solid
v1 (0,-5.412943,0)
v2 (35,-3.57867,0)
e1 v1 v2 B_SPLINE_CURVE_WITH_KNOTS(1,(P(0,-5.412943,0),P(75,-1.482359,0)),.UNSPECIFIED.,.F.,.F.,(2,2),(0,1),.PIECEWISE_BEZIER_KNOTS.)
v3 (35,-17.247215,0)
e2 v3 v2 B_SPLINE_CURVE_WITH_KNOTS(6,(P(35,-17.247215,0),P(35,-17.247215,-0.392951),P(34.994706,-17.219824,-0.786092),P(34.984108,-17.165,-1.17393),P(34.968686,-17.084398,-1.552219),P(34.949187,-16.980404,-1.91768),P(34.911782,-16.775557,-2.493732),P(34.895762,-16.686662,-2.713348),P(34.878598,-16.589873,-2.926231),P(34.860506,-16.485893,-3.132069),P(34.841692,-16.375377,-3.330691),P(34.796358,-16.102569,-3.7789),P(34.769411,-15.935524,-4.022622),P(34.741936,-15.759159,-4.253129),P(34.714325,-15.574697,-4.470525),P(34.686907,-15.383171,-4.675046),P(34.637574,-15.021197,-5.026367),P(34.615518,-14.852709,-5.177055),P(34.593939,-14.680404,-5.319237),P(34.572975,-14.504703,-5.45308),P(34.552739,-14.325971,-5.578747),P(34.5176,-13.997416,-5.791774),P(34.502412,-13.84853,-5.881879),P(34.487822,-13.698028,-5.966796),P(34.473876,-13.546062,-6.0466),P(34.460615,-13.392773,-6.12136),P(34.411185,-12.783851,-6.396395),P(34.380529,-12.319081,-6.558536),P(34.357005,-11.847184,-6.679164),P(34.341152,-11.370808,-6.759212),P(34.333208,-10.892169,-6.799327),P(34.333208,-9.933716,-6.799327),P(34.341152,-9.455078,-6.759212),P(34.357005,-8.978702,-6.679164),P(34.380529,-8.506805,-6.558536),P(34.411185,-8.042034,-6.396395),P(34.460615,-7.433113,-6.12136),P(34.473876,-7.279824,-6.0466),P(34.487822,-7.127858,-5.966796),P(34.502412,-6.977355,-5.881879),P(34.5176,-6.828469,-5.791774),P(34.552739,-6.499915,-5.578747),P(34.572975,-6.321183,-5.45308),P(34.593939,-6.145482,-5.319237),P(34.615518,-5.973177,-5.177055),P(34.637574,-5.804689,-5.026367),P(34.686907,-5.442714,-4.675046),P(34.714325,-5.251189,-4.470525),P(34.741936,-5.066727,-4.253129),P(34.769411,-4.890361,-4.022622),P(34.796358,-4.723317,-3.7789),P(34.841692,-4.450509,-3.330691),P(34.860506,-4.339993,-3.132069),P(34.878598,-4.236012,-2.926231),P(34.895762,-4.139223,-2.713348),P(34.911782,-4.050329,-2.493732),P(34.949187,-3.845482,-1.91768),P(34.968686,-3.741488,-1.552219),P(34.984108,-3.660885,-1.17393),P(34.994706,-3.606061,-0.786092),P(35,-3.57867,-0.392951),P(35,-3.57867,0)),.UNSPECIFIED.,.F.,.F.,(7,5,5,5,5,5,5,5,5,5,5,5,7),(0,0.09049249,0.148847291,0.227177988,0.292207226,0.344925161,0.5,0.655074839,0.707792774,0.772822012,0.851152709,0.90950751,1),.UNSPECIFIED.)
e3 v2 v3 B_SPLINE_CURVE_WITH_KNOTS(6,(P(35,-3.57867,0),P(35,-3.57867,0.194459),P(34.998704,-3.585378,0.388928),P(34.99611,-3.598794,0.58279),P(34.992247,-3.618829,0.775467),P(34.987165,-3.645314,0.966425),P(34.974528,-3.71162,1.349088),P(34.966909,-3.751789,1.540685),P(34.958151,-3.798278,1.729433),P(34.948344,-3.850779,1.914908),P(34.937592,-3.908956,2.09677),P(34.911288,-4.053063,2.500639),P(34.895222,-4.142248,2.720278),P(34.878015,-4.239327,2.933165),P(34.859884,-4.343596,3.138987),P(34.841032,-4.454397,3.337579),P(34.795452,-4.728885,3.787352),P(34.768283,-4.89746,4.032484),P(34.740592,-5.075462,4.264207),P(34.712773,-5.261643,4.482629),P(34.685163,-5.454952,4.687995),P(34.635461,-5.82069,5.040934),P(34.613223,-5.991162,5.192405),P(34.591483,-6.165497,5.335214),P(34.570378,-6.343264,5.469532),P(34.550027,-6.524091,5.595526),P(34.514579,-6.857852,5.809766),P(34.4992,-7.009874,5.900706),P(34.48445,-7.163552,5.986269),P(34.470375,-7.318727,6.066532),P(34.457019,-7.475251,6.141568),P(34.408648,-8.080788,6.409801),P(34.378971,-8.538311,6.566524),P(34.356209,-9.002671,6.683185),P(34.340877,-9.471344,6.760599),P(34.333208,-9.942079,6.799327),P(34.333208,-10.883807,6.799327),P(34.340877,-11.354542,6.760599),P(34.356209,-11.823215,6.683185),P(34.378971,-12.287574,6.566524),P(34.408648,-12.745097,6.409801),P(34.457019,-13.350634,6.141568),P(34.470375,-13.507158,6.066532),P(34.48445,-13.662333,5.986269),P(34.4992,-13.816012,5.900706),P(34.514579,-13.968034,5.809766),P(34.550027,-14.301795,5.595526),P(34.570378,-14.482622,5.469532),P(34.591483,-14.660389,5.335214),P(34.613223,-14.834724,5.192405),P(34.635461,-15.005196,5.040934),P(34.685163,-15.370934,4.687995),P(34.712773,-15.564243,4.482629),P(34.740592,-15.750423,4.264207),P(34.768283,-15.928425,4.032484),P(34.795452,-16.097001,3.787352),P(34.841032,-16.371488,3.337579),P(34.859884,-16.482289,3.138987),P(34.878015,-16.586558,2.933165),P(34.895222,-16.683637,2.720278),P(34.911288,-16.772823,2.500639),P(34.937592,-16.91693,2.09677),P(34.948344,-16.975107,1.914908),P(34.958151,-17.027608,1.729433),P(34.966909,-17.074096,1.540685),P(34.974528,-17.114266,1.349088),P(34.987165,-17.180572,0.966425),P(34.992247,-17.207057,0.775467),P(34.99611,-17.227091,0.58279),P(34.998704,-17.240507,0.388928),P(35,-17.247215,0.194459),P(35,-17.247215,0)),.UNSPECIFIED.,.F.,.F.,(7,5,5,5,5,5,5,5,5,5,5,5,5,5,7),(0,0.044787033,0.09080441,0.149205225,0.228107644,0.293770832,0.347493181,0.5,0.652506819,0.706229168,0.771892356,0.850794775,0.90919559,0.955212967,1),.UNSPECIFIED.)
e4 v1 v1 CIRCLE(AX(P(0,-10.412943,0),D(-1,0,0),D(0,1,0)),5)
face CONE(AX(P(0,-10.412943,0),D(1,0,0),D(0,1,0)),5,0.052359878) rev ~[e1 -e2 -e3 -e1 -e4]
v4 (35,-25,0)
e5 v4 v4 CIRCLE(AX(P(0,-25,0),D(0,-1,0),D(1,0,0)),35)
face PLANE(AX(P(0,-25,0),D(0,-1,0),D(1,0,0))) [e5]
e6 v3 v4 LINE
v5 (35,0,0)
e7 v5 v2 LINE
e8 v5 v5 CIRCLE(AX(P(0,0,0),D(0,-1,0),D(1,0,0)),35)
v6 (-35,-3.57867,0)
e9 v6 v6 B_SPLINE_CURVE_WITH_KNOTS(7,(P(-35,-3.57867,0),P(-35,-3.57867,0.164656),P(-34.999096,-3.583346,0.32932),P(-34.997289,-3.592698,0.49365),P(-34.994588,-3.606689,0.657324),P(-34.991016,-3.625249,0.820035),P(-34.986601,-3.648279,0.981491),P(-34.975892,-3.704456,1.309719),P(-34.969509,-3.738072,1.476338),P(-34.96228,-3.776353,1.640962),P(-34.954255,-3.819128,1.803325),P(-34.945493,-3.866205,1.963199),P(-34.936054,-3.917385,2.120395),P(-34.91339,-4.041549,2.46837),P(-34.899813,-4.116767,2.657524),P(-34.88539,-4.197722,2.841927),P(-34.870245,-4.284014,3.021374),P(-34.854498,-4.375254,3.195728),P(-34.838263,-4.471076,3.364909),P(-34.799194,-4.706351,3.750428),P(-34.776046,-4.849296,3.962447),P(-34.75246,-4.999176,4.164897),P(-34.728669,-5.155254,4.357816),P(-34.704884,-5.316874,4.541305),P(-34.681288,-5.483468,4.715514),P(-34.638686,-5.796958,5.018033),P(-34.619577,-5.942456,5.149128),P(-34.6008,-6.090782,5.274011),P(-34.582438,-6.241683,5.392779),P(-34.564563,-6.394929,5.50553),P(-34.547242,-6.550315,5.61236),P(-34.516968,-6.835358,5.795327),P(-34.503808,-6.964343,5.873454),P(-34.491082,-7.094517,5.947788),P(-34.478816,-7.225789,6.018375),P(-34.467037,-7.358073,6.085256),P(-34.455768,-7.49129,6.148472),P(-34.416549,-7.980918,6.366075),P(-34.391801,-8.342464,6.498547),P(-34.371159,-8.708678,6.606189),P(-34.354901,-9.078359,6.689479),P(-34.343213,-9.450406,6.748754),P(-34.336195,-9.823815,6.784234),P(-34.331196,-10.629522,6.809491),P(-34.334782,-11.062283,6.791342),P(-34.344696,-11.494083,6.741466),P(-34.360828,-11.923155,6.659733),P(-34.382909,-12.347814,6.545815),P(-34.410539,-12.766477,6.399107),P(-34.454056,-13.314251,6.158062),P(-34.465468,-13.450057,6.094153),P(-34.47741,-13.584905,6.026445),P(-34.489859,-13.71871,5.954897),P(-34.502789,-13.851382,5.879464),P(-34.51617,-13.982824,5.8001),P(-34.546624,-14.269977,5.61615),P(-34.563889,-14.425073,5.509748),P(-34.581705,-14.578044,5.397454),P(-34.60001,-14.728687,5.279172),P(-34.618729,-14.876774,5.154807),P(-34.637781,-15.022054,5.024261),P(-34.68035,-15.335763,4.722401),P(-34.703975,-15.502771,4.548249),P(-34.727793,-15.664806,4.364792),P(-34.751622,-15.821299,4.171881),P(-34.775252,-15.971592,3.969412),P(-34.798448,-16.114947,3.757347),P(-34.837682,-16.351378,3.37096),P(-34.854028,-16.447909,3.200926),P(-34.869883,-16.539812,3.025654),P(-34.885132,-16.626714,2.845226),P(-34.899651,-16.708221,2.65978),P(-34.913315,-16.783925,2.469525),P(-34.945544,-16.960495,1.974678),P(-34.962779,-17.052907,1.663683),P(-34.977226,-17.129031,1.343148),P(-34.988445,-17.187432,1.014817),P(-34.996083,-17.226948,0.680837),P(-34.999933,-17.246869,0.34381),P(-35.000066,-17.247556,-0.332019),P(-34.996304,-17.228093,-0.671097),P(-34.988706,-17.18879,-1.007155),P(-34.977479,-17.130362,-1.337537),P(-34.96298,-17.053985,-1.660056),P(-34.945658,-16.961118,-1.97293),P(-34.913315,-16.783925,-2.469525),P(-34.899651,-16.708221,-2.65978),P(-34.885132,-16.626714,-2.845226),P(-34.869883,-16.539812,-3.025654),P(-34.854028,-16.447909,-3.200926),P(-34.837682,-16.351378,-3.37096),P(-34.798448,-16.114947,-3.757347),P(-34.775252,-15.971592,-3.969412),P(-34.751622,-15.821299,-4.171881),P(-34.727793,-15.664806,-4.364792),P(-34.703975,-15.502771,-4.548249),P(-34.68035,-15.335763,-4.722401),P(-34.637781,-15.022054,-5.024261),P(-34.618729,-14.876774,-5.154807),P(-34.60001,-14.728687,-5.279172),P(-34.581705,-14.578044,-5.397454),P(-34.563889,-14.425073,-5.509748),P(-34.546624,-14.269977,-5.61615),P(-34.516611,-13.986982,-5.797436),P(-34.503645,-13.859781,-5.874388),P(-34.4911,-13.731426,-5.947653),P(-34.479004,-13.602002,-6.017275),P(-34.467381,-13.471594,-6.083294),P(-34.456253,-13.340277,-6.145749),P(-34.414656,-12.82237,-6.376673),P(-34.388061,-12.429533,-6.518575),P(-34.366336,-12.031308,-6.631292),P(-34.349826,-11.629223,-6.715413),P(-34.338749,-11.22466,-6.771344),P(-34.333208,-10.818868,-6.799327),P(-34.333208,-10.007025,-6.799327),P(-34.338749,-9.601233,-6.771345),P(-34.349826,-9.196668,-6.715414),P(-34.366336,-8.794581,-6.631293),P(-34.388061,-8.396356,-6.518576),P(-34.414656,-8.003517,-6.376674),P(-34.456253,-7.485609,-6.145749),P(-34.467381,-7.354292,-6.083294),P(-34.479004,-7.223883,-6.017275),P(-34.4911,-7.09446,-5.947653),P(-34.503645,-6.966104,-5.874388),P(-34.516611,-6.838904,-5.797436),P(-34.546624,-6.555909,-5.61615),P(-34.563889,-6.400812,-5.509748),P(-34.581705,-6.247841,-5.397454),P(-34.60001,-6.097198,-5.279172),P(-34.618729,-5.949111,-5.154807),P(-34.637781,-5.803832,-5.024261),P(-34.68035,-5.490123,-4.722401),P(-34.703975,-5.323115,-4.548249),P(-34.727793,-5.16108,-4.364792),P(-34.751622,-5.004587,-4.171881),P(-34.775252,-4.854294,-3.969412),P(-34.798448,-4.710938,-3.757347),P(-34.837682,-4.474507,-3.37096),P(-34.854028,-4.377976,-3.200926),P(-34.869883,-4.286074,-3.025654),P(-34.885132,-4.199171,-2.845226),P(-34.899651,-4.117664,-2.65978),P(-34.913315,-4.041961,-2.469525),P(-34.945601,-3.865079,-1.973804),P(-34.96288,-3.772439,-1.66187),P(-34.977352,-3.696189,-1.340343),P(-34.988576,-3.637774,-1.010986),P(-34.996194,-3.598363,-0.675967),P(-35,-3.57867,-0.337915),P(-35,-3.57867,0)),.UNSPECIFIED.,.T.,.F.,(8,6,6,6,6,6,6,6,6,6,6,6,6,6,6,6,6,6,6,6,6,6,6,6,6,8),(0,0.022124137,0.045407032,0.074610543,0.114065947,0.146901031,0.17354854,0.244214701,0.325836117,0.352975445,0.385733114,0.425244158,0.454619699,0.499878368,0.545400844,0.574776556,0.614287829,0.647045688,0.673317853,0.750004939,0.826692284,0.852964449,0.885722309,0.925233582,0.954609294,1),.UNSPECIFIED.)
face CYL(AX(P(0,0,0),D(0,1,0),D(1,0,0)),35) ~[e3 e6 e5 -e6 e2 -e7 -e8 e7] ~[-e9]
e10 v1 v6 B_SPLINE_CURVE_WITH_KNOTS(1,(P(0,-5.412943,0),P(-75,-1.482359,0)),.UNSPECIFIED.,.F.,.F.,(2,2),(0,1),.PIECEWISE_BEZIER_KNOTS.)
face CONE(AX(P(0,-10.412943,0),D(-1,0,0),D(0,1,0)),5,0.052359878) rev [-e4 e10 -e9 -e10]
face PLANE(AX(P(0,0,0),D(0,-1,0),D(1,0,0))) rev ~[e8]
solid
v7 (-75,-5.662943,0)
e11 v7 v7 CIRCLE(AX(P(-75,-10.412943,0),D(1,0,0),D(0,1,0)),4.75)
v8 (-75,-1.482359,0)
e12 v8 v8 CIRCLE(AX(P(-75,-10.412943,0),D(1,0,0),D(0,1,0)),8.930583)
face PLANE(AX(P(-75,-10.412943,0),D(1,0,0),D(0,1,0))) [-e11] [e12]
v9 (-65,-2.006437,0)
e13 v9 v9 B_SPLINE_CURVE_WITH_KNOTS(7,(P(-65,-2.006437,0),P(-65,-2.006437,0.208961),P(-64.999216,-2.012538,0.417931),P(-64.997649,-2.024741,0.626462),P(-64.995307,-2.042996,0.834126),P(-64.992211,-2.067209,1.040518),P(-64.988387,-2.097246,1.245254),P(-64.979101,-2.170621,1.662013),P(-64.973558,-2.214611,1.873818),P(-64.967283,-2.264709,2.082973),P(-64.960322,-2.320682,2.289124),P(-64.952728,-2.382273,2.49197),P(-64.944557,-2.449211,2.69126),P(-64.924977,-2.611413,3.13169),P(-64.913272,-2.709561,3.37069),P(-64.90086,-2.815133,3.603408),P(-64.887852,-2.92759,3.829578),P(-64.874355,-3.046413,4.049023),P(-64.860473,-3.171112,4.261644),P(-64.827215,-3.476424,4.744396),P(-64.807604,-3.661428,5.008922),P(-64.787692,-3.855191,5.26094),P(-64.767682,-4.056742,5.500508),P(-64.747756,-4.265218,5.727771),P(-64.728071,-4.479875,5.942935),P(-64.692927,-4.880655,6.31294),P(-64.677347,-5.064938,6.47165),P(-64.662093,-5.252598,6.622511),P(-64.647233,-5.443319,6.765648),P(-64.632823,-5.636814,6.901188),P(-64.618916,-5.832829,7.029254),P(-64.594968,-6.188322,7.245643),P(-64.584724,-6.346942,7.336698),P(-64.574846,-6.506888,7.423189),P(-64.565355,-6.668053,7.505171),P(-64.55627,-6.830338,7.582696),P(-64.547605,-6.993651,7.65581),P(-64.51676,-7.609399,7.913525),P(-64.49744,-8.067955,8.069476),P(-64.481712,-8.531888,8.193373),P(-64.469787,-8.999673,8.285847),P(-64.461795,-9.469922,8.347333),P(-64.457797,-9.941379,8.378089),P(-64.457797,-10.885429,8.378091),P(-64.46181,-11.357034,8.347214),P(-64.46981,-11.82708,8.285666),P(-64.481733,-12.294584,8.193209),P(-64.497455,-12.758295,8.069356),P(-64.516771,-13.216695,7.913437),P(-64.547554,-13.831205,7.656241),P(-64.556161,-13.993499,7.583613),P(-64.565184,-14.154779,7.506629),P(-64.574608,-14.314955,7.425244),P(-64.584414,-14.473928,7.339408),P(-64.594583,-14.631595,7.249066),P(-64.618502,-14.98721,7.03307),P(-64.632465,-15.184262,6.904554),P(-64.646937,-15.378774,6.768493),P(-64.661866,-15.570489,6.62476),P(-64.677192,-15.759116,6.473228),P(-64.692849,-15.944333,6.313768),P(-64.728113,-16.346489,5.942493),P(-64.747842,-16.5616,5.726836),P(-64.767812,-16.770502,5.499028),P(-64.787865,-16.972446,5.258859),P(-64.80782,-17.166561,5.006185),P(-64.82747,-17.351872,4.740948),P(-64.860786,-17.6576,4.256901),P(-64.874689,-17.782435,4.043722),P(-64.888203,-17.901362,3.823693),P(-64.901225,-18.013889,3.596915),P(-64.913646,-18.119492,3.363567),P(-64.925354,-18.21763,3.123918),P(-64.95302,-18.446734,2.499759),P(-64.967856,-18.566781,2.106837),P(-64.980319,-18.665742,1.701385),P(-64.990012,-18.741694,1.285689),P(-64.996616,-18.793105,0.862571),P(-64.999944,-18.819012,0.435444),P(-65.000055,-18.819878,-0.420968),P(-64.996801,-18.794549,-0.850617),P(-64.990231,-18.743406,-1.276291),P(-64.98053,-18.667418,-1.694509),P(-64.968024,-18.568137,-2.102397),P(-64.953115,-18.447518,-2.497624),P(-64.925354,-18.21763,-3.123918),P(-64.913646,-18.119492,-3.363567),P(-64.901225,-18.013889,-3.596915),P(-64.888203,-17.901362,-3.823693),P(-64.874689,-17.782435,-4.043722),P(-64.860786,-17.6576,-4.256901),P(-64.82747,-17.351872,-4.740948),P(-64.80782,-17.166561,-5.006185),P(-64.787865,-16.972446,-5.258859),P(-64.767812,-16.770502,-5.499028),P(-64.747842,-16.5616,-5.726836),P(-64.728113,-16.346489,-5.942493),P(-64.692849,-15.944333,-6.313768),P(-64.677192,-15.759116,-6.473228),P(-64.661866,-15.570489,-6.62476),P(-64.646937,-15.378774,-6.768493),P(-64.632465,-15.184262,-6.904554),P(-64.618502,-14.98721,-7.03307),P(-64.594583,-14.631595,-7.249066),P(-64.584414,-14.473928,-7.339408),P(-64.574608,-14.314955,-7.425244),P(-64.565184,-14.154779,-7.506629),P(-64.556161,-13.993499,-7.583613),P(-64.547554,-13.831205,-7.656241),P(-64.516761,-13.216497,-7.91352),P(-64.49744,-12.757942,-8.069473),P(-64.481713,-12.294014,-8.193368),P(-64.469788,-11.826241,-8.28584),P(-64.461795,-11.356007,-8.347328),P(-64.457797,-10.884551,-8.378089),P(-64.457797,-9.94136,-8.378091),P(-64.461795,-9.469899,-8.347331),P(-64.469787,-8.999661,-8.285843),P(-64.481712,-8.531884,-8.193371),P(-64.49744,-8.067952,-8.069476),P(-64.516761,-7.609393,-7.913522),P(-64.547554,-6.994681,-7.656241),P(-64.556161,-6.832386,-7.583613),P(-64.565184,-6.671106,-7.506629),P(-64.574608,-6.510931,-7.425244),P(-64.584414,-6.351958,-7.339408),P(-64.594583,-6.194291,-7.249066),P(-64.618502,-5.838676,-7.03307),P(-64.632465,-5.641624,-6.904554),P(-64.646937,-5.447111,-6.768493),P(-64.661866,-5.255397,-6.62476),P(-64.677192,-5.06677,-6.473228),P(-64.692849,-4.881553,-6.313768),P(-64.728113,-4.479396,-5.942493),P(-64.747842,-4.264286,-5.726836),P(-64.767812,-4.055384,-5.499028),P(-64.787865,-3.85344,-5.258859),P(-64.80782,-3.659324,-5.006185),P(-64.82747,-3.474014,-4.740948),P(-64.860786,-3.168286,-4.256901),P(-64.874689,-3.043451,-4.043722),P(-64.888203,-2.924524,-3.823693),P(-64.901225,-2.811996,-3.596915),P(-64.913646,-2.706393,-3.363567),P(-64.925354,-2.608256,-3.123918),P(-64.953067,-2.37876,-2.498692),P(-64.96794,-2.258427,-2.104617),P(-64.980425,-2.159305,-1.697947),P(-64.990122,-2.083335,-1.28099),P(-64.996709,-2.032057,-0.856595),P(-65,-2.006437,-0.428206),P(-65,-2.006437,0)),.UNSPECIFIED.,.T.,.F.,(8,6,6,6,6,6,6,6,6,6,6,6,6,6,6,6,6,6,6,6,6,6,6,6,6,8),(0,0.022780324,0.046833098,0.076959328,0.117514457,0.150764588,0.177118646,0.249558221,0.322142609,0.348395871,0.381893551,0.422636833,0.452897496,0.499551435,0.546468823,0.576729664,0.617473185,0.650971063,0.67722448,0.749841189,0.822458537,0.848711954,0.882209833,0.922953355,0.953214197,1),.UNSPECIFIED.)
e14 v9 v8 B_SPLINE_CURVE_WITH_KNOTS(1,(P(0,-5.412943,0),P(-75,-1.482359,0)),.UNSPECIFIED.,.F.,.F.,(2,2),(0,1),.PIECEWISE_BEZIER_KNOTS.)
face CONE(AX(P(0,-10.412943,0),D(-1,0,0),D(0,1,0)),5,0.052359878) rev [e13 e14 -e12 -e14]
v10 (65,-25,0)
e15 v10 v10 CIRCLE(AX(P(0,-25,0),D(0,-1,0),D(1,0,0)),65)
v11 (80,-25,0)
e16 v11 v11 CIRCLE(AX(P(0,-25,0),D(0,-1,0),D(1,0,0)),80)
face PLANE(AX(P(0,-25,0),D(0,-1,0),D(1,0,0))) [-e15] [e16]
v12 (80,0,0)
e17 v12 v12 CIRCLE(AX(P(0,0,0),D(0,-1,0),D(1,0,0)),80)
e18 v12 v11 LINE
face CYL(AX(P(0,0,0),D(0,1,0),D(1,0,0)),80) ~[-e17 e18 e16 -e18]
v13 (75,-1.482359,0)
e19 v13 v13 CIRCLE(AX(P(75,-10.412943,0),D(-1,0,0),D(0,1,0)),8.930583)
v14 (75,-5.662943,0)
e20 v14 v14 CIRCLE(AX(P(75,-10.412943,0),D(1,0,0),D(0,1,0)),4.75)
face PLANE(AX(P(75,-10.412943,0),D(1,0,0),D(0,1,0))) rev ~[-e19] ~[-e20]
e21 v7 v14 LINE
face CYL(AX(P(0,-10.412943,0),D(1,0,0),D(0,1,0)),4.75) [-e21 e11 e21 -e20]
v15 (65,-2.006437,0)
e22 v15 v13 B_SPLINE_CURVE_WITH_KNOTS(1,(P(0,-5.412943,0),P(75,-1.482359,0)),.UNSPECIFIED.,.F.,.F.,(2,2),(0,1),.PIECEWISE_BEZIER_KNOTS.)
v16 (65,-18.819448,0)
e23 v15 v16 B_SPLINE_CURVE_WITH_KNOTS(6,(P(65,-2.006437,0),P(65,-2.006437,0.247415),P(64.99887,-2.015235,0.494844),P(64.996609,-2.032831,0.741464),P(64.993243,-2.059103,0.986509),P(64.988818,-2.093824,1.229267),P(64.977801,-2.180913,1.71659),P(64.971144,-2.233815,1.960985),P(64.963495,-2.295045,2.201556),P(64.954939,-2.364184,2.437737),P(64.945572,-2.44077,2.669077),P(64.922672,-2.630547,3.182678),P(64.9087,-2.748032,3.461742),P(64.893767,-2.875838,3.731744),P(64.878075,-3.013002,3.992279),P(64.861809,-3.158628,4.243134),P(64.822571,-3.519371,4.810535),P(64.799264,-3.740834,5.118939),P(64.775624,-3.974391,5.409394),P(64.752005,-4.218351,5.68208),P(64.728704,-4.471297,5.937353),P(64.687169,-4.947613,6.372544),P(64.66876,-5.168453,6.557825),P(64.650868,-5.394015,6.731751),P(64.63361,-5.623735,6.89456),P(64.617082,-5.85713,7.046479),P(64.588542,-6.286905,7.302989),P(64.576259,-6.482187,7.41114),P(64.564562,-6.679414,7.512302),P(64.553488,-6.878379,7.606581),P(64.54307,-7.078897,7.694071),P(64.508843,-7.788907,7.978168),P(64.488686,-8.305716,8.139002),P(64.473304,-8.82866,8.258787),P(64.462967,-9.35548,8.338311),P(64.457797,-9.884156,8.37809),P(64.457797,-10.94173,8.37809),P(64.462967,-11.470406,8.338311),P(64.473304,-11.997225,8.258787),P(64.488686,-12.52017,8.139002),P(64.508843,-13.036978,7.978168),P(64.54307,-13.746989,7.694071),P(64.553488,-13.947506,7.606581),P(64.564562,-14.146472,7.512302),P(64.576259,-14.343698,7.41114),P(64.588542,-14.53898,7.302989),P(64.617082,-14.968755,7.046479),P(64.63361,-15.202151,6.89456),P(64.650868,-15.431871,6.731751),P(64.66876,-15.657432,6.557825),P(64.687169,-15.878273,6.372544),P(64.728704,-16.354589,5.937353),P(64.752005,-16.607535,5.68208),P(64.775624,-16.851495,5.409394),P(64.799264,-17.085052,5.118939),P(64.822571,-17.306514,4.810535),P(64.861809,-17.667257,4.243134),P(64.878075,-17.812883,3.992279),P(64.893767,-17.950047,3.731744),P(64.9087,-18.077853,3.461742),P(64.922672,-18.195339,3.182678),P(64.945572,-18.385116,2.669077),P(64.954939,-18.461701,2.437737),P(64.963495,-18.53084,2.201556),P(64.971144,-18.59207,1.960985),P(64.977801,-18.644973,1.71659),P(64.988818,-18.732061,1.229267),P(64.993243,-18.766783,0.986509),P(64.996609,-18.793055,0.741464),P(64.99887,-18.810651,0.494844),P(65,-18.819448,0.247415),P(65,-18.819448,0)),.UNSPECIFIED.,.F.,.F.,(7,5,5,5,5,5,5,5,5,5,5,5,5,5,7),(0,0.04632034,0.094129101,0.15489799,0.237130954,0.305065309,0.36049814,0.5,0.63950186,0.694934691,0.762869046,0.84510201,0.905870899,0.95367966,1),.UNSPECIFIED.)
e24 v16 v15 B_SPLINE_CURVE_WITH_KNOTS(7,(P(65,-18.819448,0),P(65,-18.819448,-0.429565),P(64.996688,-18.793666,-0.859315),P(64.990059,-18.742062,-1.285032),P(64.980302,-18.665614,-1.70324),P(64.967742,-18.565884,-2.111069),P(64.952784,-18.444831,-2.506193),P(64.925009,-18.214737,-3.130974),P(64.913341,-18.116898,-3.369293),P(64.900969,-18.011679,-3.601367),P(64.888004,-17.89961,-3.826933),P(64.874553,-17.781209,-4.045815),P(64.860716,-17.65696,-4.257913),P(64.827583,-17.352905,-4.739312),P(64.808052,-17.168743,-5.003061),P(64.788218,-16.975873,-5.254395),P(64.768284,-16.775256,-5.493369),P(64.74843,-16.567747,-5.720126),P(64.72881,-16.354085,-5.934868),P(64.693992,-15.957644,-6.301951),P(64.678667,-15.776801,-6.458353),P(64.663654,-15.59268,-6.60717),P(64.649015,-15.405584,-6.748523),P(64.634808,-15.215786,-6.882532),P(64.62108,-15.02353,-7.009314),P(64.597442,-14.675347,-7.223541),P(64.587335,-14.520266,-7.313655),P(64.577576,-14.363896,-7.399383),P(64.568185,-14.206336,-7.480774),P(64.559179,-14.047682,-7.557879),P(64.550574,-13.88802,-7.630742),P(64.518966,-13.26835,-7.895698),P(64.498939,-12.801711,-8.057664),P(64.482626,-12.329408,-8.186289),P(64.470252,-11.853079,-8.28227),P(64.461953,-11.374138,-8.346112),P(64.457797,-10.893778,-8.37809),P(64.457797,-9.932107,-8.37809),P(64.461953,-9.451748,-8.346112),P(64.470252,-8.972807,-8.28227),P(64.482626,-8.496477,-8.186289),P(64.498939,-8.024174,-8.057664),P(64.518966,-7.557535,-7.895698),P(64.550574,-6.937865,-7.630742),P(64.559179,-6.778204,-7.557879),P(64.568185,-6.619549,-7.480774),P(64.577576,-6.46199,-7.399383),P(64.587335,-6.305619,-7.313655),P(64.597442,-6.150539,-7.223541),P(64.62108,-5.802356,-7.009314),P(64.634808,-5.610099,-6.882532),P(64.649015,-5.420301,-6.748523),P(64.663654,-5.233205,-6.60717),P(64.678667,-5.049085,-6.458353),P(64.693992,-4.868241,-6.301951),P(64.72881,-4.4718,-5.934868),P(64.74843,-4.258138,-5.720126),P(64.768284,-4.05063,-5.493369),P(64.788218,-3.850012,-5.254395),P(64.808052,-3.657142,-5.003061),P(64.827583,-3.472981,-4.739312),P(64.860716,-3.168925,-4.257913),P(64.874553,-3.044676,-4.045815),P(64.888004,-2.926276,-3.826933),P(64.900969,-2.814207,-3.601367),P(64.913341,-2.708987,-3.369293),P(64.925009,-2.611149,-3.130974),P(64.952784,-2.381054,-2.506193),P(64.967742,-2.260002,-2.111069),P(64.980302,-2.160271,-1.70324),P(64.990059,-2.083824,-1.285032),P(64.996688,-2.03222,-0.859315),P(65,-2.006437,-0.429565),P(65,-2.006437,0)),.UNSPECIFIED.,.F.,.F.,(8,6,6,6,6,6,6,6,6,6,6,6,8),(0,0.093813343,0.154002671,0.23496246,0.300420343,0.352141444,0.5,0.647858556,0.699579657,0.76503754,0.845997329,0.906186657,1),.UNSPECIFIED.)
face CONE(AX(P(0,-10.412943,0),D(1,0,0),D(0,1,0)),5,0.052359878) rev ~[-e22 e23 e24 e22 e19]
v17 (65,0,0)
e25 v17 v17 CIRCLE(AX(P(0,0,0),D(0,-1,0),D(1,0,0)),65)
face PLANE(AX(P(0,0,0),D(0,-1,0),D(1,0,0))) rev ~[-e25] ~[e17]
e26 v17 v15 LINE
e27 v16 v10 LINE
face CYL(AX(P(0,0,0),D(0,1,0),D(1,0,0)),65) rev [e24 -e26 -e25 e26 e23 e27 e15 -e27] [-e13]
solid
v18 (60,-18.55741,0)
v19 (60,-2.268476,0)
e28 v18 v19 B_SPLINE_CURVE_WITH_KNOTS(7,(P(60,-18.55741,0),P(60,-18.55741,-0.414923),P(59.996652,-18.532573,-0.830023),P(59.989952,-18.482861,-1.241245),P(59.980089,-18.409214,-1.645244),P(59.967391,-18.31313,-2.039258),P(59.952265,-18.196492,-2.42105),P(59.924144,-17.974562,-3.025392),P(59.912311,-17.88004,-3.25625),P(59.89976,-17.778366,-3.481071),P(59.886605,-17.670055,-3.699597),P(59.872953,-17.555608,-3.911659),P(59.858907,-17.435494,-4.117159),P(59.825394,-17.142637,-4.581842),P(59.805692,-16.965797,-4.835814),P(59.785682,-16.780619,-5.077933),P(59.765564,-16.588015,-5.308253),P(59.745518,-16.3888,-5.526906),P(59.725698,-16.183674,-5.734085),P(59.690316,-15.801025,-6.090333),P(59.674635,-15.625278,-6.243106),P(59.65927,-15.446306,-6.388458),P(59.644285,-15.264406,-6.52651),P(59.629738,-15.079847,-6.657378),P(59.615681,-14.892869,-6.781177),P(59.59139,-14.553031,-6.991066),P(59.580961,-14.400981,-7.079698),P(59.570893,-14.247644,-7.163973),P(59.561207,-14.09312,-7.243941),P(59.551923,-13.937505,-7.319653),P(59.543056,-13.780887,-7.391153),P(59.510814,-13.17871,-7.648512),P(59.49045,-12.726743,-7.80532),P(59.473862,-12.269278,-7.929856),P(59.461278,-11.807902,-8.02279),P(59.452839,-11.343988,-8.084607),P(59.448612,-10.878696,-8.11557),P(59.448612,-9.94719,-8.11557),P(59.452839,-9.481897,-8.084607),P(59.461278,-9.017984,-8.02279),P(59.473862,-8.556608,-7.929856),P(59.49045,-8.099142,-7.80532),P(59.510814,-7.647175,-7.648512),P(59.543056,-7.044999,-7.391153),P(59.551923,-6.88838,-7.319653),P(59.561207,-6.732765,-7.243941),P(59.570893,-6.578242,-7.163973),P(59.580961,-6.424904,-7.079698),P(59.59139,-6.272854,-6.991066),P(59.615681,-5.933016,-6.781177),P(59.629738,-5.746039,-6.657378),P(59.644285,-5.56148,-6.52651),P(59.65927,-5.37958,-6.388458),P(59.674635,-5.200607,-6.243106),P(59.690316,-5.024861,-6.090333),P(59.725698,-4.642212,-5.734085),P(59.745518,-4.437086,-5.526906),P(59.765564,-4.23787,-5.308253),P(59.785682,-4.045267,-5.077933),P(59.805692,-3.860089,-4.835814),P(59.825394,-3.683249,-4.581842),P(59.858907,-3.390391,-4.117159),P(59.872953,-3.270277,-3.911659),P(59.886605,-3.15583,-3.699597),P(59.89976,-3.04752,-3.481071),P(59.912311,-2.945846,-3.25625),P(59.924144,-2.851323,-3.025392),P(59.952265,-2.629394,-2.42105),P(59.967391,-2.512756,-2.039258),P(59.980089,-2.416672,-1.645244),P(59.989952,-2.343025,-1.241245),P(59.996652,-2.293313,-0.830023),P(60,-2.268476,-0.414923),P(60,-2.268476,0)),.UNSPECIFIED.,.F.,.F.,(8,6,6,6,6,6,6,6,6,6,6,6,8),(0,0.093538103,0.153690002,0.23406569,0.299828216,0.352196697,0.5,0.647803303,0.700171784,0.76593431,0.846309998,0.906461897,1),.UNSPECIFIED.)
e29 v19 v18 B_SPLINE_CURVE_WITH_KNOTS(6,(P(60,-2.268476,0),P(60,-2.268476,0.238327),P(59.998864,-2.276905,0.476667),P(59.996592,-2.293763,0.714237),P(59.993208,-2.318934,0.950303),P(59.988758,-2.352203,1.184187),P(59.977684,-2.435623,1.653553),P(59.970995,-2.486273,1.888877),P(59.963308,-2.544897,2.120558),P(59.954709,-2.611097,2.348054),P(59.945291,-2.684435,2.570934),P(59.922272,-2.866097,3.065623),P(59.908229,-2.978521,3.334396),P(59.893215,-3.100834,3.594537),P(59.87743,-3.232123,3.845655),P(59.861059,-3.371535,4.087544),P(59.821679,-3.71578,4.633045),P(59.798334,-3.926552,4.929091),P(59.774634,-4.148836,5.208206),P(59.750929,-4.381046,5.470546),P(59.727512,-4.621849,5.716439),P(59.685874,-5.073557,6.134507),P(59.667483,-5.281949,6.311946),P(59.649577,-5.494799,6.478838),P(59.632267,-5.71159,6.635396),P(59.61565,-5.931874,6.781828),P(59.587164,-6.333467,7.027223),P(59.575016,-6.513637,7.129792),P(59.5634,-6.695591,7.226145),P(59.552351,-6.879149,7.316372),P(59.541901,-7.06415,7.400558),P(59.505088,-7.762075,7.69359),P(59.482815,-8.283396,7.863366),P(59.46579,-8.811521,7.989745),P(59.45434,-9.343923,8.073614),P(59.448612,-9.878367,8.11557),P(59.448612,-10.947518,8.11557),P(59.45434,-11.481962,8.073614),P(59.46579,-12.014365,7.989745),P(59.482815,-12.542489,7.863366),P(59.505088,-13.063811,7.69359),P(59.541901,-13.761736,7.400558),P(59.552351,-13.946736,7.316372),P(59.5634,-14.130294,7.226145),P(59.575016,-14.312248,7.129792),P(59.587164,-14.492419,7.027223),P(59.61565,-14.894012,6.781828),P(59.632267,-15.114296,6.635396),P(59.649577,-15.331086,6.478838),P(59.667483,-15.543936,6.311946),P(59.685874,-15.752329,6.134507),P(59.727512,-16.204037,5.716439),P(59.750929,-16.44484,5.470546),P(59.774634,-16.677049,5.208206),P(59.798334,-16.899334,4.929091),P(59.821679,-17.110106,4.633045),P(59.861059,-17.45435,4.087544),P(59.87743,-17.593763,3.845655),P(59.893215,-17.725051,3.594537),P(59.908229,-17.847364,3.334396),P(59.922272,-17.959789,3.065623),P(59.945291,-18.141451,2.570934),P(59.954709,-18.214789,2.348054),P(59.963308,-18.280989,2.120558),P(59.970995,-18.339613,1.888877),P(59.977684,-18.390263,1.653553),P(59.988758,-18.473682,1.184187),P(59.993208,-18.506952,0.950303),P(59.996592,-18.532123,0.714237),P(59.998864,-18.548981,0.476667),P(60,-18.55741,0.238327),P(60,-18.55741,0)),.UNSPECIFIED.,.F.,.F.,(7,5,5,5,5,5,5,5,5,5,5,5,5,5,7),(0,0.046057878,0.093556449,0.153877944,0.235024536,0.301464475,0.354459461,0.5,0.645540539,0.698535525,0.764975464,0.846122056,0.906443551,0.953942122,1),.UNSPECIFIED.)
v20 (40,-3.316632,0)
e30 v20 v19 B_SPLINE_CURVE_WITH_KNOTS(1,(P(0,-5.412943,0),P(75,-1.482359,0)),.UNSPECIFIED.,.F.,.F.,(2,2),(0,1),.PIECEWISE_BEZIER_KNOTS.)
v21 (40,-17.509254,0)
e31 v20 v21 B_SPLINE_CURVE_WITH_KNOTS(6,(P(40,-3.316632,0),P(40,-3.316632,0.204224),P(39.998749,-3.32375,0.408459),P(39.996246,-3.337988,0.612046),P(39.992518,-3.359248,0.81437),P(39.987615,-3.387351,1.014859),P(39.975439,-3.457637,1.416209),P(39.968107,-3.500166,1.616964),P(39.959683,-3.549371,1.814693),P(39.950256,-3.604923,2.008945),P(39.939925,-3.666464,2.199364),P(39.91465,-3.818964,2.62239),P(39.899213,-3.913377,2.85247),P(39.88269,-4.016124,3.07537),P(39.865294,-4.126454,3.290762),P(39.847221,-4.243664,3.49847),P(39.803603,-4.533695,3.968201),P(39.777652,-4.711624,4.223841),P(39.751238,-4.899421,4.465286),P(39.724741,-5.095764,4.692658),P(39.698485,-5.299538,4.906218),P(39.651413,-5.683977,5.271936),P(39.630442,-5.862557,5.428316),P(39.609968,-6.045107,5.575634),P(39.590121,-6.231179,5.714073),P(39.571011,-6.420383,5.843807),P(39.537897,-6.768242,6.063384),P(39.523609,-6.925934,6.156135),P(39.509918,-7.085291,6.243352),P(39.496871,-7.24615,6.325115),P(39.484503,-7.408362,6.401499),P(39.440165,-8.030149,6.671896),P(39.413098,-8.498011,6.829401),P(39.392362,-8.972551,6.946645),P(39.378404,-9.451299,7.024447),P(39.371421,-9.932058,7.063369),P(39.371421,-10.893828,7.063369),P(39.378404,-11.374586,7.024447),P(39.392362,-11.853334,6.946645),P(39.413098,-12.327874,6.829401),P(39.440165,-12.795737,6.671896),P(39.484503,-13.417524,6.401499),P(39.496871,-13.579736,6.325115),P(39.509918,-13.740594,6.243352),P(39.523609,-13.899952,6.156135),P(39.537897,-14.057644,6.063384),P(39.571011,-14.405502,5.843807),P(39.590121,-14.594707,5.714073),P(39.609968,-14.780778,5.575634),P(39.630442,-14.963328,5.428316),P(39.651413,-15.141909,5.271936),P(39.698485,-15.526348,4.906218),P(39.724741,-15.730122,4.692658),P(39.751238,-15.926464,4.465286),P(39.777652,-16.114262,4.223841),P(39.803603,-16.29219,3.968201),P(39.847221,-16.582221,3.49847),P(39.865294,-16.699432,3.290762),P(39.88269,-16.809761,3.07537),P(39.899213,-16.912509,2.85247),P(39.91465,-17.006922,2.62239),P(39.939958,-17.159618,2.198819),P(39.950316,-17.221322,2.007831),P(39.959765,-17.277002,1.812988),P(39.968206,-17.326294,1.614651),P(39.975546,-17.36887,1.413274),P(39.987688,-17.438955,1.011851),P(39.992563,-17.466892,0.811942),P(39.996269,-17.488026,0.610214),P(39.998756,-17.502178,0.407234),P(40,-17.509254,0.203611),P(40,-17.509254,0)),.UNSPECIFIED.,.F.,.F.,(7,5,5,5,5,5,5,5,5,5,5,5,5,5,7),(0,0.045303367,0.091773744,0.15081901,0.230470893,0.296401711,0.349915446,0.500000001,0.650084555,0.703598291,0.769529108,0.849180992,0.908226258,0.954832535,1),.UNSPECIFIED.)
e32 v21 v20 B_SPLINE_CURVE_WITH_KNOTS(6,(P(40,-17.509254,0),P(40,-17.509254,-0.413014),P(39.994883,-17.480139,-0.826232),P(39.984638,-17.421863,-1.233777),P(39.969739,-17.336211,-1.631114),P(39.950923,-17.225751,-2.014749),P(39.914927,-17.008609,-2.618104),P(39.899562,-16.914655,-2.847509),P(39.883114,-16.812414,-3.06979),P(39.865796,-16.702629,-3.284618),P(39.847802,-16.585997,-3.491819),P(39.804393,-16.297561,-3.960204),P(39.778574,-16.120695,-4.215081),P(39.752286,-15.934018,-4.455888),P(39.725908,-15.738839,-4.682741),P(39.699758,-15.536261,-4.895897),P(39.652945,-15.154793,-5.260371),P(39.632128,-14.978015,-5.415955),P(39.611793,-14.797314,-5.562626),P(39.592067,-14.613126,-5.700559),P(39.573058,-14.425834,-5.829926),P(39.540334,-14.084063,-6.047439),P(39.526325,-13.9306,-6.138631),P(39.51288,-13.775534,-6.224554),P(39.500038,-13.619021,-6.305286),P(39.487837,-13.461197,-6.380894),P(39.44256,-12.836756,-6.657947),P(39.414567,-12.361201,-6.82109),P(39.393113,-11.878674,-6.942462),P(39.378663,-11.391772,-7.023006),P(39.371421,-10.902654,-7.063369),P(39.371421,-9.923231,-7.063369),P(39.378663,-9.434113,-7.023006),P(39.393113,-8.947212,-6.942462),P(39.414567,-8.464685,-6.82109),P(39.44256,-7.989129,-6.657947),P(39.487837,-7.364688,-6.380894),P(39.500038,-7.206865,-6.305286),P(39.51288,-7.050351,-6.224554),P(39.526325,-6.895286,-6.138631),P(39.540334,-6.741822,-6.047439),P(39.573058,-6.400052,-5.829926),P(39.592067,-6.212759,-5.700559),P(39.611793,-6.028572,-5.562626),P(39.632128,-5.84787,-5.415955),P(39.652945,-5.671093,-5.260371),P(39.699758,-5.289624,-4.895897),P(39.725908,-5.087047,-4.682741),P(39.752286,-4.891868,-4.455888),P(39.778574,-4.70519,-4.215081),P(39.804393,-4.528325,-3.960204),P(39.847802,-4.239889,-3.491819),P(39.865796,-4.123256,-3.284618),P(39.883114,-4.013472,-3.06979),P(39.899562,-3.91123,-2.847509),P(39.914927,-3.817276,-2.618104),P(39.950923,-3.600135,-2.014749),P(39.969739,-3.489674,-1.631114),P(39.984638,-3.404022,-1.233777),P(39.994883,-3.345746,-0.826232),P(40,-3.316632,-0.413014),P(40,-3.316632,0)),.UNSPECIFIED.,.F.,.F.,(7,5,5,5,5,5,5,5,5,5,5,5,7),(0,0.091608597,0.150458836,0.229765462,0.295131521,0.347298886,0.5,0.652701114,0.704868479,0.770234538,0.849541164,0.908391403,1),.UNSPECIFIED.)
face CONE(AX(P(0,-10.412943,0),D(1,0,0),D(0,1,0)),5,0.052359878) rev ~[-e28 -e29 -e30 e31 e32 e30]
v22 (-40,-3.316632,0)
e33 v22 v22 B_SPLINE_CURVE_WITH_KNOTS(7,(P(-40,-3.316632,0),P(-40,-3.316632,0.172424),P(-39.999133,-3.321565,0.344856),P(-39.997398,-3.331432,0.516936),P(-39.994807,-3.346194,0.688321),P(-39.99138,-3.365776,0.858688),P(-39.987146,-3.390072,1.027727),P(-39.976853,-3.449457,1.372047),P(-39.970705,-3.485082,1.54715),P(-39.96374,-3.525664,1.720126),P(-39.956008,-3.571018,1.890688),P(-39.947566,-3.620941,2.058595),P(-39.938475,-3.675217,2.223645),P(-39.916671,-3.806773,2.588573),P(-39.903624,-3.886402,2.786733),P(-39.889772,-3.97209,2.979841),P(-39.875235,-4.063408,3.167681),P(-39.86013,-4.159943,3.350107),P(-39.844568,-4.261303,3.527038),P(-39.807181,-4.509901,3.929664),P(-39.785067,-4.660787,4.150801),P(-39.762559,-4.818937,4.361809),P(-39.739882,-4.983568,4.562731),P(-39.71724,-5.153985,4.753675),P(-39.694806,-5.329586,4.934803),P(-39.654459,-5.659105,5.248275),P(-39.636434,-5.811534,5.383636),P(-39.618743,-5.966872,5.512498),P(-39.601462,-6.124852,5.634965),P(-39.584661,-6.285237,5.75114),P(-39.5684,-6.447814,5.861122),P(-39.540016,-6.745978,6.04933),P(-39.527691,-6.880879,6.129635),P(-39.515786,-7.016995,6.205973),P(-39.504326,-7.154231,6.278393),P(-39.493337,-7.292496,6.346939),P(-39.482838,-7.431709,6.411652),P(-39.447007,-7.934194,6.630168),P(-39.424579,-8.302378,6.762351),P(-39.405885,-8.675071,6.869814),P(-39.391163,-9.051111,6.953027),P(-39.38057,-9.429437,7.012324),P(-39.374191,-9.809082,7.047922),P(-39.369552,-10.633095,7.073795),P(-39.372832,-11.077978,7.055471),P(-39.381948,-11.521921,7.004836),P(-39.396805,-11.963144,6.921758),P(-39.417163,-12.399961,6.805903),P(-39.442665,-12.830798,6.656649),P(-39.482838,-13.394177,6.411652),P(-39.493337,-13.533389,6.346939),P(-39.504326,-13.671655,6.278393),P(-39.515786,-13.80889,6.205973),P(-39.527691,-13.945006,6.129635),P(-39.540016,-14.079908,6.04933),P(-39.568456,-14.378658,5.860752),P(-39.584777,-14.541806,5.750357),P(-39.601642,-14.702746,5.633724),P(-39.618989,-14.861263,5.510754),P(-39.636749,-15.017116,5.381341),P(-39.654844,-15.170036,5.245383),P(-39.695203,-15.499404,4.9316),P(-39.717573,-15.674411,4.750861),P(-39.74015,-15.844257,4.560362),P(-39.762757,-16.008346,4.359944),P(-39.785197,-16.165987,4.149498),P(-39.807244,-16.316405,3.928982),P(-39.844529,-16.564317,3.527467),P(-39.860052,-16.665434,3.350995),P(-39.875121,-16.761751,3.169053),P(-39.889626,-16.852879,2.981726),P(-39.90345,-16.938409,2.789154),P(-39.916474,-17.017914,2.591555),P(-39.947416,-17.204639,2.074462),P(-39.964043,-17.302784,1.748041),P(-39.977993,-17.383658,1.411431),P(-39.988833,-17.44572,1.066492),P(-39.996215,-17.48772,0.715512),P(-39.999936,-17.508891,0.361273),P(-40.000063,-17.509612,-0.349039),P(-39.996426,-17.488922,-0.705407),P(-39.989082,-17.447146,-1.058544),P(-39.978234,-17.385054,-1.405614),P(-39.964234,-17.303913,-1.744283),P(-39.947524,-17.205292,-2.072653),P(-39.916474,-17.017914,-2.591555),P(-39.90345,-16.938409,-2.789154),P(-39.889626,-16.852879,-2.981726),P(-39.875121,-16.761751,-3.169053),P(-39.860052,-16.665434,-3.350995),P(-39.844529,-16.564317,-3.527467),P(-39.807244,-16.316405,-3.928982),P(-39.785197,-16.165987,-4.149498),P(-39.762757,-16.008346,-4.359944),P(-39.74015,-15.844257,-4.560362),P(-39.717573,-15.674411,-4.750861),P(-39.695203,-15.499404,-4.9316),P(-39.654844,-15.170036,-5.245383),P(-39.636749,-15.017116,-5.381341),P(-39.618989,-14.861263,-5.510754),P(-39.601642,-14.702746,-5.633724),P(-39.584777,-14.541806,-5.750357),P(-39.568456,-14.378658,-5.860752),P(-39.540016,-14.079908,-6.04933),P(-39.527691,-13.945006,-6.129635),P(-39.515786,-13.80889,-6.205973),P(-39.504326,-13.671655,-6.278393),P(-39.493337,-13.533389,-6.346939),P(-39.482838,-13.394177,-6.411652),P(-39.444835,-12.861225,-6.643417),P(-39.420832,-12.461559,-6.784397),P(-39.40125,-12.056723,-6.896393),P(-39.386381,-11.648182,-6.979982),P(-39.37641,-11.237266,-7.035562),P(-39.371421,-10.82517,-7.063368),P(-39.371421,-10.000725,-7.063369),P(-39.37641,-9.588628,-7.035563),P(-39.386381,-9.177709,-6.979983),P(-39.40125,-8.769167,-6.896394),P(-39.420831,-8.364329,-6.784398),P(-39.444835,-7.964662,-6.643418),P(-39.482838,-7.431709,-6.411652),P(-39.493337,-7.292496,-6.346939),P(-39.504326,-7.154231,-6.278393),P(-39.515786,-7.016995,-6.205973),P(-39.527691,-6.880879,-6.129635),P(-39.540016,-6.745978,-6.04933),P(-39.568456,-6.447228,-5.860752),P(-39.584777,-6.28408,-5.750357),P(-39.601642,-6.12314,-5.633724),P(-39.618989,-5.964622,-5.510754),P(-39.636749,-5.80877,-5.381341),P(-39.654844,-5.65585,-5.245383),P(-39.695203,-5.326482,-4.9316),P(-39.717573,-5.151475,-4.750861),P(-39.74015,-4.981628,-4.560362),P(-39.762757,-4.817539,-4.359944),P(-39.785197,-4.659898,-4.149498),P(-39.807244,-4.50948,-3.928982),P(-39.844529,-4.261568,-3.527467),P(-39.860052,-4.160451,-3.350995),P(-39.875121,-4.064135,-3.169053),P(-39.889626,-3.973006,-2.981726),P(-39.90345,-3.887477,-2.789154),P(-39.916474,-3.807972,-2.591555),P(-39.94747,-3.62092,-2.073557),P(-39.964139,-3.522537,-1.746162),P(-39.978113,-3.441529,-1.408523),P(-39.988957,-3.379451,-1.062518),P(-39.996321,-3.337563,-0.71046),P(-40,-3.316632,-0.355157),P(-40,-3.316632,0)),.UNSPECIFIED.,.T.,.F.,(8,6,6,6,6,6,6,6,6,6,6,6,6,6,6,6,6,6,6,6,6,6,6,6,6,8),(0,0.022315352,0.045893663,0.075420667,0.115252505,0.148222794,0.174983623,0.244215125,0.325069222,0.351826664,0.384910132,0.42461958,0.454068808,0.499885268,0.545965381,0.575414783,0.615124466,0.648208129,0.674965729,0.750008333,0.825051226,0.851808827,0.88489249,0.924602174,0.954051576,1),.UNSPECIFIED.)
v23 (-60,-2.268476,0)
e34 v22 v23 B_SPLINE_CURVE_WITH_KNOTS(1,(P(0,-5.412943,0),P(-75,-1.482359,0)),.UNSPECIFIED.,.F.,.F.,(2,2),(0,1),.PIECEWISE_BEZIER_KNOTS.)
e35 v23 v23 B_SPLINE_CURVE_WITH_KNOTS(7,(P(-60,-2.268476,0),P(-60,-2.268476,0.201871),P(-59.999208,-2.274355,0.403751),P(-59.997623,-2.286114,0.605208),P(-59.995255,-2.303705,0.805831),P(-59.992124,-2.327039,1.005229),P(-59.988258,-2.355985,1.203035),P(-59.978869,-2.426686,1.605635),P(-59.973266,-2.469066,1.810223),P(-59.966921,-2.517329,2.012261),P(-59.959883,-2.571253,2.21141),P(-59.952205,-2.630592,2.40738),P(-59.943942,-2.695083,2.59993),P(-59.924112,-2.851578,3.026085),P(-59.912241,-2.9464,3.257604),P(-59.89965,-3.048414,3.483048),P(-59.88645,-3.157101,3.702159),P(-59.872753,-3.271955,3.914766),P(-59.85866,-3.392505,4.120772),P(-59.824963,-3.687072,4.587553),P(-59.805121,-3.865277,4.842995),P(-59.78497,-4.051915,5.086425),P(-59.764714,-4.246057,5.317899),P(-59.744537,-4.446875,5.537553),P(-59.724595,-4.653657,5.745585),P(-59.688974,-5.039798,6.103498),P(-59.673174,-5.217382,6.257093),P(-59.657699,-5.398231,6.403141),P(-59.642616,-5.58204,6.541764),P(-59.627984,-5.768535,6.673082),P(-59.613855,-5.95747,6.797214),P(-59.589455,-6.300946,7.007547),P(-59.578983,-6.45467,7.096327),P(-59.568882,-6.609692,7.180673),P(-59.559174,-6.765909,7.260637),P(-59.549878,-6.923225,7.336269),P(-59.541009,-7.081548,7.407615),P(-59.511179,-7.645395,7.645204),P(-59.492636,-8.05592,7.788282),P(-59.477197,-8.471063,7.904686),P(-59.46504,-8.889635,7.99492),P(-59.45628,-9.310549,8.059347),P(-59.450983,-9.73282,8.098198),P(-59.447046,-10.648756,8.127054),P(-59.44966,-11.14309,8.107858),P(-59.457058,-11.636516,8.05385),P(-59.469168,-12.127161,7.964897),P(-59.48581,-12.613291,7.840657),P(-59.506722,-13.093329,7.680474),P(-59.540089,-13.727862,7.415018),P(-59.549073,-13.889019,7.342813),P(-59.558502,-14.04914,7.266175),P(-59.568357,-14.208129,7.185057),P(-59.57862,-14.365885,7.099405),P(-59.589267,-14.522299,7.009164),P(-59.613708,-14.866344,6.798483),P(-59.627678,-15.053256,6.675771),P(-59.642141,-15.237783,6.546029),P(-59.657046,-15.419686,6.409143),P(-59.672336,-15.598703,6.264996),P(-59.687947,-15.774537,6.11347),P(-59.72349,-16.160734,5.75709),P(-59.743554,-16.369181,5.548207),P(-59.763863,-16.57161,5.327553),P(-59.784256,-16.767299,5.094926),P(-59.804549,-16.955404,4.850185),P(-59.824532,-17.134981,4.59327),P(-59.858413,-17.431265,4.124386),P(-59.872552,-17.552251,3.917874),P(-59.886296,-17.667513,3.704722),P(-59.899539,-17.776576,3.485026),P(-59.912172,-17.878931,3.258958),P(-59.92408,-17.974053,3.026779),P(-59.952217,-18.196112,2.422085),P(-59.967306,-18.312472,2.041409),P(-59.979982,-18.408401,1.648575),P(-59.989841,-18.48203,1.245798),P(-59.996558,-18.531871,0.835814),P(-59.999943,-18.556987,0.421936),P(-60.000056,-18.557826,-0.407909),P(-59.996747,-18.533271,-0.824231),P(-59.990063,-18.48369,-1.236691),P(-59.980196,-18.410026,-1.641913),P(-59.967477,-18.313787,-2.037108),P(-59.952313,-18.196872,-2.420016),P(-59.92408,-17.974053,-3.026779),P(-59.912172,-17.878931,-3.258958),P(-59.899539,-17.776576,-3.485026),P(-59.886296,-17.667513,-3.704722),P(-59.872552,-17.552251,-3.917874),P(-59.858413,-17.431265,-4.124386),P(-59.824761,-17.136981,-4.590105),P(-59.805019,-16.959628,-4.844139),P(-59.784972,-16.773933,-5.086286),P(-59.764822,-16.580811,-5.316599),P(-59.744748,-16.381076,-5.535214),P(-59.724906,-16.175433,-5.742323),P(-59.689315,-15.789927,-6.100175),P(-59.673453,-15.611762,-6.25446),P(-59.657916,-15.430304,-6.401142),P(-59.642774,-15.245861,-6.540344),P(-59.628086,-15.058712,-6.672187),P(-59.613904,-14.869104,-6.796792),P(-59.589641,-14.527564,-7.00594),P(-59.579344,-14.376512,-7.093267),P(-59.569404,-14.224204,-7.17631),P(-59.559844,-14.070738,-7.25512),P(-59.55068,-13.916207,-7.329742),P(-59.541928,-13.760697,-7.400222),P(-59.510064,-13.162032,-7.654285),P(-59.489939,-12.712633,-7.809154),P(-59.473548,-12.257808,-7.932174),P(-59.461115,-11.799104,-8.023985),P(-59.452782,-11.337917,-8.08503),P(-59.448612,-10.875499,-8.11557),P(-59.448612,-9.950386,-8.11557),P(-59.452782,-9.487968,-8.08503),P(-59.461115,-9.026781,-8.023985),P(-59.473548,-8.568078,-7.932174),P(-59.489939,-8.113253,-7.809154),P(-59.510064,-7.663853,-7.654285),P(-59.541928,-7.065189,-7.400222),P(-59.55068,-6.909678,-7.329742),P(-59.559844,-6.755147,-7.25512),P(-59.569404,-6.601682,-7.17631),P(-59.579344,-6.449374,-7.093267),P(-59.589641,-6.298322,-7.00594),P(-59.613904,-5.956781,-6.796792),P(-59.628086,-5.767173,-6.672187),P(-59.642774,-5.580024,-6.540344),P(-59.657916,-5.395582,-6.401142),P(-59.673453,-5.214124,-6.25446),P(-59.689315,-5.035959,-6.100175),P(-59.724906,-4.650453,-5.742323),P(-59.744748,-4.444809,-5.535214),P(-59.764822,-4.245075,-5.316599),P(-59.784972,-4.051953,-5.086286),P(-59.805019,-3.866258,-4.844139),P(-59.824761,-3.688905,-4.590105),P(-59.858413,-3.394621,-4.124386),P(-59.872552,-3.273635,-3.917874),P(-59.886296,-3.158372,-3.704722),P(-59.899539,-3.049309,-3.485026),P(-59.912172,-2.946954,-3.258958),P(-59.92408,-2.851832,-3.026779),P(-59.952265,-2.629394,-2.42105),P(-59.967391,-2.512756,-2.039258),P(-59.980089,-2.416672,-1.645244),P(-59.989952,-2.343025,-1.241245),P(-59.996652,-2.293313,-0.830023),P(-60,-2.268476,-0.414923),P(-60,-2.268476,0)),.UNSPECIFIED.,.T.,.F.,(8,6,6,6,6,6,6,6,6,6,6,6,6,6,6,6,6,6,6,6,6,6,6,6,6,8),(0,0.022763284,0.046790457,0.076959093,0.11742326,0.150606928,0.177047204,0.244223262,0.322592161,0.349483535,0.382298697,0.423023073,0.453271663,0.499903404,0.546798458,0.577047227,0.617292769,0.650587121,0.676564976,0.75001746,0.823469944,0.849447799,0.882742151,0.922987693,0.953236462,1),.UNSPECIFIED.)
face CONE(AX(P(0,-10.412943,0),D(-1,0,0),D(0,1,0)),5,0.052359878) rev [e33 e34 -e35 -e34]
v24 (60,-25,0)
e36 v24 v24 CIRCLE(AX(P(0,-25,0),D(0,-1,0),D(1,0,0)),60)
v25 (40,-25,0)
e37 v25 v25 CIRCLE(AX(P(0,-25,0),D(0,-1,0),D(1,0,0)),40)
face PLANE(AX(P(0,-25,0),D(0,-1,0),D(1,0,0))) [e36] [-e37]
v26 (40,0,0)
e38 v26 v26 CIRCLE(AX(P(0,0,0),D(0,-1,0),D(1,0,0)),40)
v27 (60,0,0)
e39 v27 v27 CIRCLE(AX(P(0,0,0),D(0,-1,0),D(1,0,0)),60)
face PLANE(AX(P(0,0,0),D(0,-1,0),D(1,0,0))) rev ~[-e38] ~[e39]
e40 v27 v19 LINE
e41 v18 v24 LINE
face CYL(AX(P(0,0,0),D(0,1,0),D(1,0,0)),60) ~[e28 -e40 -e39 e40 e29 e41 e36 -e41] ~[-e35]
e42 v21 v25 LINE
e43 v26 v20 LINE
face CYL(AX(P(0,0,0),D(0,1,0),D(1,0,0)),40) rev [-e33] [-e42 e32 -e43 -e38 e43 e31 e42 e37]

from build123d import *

# Parameters (mm, degrees)
F0_R     = 80
F0_R_2   = 65
F2_DEPTH = 25
F0_R_3   = 60
F0_R_4   = 40
F0_R_5   = 35
F1_R     = 5
F3_DEPTH = 75
F3_TAPER = -3
F4_R     = 4.75
F5_DEPTH = 77.5


with BuildPart() as f2:
    # F0 (on Front) → F2 (new body)
    with BuildSketch(Plane.XZ):
        Circle(F0_R)
        Circle(F0_R_2, mode=Mode.SUBTRACT)
    extrude(amount=F2_DEPTH)


with BuildPart() as f2b:
    # F0 (on Front) → F2, piece 2 (new body)
    with BuildSketch(Plane.XZ):
        Circle(F0_R_3)
        Circle(F0_R_4, mode=Mode.SUBTRACT)
    extrude(amount=F2_DEPTH)


with BuildPart() as f2c:
    # F0 (on Front) → F2, piece 3 (new body)
    with BuildSketch(Plane.XZ):
        Circle(F0_R_5)
    extrude(amount=F2_DEPTH)


with BuildPart() as f3_tool:
    # F1 (on Right) → F3 (new body, symmetric)
    with BuildSketch(Plane.YZ):
        with Locations((-10.4129427743, 0)):
            Circle(F1_R)
    extrude(amount=F3_DEPTH, both=True, taper=F3_TAPER)


with BuildPart() as f2_1:
    add(f2.part)

    # F3: cut by f3_tool
    add(f3_tool.part, mode=Mode.SUBTRACT)

    # F4 (on face) → F5 (join, symmetric)
    with BuildSketch(Plane.YZ):
        with Locations((-10.4129427743, 0)):
            Circle(F4_R)
    extrude(amount=F5_DEPTH, both=True)


with BuildPart() as f2b_1:
    add(f2b.part)

    # F3: cut by f3_tool
    add(f3_tool.part, mode=Mode.SUBTRACT)


with BuildPart() as f2c_1:
    add(f2c.part)

    # F3: cut by f3_tool
    add(f3_tool.part, mode=Mode.SUBTRACT)


solid = Compound([f2_1.part, f2b_1.part, f2c_1.part])
